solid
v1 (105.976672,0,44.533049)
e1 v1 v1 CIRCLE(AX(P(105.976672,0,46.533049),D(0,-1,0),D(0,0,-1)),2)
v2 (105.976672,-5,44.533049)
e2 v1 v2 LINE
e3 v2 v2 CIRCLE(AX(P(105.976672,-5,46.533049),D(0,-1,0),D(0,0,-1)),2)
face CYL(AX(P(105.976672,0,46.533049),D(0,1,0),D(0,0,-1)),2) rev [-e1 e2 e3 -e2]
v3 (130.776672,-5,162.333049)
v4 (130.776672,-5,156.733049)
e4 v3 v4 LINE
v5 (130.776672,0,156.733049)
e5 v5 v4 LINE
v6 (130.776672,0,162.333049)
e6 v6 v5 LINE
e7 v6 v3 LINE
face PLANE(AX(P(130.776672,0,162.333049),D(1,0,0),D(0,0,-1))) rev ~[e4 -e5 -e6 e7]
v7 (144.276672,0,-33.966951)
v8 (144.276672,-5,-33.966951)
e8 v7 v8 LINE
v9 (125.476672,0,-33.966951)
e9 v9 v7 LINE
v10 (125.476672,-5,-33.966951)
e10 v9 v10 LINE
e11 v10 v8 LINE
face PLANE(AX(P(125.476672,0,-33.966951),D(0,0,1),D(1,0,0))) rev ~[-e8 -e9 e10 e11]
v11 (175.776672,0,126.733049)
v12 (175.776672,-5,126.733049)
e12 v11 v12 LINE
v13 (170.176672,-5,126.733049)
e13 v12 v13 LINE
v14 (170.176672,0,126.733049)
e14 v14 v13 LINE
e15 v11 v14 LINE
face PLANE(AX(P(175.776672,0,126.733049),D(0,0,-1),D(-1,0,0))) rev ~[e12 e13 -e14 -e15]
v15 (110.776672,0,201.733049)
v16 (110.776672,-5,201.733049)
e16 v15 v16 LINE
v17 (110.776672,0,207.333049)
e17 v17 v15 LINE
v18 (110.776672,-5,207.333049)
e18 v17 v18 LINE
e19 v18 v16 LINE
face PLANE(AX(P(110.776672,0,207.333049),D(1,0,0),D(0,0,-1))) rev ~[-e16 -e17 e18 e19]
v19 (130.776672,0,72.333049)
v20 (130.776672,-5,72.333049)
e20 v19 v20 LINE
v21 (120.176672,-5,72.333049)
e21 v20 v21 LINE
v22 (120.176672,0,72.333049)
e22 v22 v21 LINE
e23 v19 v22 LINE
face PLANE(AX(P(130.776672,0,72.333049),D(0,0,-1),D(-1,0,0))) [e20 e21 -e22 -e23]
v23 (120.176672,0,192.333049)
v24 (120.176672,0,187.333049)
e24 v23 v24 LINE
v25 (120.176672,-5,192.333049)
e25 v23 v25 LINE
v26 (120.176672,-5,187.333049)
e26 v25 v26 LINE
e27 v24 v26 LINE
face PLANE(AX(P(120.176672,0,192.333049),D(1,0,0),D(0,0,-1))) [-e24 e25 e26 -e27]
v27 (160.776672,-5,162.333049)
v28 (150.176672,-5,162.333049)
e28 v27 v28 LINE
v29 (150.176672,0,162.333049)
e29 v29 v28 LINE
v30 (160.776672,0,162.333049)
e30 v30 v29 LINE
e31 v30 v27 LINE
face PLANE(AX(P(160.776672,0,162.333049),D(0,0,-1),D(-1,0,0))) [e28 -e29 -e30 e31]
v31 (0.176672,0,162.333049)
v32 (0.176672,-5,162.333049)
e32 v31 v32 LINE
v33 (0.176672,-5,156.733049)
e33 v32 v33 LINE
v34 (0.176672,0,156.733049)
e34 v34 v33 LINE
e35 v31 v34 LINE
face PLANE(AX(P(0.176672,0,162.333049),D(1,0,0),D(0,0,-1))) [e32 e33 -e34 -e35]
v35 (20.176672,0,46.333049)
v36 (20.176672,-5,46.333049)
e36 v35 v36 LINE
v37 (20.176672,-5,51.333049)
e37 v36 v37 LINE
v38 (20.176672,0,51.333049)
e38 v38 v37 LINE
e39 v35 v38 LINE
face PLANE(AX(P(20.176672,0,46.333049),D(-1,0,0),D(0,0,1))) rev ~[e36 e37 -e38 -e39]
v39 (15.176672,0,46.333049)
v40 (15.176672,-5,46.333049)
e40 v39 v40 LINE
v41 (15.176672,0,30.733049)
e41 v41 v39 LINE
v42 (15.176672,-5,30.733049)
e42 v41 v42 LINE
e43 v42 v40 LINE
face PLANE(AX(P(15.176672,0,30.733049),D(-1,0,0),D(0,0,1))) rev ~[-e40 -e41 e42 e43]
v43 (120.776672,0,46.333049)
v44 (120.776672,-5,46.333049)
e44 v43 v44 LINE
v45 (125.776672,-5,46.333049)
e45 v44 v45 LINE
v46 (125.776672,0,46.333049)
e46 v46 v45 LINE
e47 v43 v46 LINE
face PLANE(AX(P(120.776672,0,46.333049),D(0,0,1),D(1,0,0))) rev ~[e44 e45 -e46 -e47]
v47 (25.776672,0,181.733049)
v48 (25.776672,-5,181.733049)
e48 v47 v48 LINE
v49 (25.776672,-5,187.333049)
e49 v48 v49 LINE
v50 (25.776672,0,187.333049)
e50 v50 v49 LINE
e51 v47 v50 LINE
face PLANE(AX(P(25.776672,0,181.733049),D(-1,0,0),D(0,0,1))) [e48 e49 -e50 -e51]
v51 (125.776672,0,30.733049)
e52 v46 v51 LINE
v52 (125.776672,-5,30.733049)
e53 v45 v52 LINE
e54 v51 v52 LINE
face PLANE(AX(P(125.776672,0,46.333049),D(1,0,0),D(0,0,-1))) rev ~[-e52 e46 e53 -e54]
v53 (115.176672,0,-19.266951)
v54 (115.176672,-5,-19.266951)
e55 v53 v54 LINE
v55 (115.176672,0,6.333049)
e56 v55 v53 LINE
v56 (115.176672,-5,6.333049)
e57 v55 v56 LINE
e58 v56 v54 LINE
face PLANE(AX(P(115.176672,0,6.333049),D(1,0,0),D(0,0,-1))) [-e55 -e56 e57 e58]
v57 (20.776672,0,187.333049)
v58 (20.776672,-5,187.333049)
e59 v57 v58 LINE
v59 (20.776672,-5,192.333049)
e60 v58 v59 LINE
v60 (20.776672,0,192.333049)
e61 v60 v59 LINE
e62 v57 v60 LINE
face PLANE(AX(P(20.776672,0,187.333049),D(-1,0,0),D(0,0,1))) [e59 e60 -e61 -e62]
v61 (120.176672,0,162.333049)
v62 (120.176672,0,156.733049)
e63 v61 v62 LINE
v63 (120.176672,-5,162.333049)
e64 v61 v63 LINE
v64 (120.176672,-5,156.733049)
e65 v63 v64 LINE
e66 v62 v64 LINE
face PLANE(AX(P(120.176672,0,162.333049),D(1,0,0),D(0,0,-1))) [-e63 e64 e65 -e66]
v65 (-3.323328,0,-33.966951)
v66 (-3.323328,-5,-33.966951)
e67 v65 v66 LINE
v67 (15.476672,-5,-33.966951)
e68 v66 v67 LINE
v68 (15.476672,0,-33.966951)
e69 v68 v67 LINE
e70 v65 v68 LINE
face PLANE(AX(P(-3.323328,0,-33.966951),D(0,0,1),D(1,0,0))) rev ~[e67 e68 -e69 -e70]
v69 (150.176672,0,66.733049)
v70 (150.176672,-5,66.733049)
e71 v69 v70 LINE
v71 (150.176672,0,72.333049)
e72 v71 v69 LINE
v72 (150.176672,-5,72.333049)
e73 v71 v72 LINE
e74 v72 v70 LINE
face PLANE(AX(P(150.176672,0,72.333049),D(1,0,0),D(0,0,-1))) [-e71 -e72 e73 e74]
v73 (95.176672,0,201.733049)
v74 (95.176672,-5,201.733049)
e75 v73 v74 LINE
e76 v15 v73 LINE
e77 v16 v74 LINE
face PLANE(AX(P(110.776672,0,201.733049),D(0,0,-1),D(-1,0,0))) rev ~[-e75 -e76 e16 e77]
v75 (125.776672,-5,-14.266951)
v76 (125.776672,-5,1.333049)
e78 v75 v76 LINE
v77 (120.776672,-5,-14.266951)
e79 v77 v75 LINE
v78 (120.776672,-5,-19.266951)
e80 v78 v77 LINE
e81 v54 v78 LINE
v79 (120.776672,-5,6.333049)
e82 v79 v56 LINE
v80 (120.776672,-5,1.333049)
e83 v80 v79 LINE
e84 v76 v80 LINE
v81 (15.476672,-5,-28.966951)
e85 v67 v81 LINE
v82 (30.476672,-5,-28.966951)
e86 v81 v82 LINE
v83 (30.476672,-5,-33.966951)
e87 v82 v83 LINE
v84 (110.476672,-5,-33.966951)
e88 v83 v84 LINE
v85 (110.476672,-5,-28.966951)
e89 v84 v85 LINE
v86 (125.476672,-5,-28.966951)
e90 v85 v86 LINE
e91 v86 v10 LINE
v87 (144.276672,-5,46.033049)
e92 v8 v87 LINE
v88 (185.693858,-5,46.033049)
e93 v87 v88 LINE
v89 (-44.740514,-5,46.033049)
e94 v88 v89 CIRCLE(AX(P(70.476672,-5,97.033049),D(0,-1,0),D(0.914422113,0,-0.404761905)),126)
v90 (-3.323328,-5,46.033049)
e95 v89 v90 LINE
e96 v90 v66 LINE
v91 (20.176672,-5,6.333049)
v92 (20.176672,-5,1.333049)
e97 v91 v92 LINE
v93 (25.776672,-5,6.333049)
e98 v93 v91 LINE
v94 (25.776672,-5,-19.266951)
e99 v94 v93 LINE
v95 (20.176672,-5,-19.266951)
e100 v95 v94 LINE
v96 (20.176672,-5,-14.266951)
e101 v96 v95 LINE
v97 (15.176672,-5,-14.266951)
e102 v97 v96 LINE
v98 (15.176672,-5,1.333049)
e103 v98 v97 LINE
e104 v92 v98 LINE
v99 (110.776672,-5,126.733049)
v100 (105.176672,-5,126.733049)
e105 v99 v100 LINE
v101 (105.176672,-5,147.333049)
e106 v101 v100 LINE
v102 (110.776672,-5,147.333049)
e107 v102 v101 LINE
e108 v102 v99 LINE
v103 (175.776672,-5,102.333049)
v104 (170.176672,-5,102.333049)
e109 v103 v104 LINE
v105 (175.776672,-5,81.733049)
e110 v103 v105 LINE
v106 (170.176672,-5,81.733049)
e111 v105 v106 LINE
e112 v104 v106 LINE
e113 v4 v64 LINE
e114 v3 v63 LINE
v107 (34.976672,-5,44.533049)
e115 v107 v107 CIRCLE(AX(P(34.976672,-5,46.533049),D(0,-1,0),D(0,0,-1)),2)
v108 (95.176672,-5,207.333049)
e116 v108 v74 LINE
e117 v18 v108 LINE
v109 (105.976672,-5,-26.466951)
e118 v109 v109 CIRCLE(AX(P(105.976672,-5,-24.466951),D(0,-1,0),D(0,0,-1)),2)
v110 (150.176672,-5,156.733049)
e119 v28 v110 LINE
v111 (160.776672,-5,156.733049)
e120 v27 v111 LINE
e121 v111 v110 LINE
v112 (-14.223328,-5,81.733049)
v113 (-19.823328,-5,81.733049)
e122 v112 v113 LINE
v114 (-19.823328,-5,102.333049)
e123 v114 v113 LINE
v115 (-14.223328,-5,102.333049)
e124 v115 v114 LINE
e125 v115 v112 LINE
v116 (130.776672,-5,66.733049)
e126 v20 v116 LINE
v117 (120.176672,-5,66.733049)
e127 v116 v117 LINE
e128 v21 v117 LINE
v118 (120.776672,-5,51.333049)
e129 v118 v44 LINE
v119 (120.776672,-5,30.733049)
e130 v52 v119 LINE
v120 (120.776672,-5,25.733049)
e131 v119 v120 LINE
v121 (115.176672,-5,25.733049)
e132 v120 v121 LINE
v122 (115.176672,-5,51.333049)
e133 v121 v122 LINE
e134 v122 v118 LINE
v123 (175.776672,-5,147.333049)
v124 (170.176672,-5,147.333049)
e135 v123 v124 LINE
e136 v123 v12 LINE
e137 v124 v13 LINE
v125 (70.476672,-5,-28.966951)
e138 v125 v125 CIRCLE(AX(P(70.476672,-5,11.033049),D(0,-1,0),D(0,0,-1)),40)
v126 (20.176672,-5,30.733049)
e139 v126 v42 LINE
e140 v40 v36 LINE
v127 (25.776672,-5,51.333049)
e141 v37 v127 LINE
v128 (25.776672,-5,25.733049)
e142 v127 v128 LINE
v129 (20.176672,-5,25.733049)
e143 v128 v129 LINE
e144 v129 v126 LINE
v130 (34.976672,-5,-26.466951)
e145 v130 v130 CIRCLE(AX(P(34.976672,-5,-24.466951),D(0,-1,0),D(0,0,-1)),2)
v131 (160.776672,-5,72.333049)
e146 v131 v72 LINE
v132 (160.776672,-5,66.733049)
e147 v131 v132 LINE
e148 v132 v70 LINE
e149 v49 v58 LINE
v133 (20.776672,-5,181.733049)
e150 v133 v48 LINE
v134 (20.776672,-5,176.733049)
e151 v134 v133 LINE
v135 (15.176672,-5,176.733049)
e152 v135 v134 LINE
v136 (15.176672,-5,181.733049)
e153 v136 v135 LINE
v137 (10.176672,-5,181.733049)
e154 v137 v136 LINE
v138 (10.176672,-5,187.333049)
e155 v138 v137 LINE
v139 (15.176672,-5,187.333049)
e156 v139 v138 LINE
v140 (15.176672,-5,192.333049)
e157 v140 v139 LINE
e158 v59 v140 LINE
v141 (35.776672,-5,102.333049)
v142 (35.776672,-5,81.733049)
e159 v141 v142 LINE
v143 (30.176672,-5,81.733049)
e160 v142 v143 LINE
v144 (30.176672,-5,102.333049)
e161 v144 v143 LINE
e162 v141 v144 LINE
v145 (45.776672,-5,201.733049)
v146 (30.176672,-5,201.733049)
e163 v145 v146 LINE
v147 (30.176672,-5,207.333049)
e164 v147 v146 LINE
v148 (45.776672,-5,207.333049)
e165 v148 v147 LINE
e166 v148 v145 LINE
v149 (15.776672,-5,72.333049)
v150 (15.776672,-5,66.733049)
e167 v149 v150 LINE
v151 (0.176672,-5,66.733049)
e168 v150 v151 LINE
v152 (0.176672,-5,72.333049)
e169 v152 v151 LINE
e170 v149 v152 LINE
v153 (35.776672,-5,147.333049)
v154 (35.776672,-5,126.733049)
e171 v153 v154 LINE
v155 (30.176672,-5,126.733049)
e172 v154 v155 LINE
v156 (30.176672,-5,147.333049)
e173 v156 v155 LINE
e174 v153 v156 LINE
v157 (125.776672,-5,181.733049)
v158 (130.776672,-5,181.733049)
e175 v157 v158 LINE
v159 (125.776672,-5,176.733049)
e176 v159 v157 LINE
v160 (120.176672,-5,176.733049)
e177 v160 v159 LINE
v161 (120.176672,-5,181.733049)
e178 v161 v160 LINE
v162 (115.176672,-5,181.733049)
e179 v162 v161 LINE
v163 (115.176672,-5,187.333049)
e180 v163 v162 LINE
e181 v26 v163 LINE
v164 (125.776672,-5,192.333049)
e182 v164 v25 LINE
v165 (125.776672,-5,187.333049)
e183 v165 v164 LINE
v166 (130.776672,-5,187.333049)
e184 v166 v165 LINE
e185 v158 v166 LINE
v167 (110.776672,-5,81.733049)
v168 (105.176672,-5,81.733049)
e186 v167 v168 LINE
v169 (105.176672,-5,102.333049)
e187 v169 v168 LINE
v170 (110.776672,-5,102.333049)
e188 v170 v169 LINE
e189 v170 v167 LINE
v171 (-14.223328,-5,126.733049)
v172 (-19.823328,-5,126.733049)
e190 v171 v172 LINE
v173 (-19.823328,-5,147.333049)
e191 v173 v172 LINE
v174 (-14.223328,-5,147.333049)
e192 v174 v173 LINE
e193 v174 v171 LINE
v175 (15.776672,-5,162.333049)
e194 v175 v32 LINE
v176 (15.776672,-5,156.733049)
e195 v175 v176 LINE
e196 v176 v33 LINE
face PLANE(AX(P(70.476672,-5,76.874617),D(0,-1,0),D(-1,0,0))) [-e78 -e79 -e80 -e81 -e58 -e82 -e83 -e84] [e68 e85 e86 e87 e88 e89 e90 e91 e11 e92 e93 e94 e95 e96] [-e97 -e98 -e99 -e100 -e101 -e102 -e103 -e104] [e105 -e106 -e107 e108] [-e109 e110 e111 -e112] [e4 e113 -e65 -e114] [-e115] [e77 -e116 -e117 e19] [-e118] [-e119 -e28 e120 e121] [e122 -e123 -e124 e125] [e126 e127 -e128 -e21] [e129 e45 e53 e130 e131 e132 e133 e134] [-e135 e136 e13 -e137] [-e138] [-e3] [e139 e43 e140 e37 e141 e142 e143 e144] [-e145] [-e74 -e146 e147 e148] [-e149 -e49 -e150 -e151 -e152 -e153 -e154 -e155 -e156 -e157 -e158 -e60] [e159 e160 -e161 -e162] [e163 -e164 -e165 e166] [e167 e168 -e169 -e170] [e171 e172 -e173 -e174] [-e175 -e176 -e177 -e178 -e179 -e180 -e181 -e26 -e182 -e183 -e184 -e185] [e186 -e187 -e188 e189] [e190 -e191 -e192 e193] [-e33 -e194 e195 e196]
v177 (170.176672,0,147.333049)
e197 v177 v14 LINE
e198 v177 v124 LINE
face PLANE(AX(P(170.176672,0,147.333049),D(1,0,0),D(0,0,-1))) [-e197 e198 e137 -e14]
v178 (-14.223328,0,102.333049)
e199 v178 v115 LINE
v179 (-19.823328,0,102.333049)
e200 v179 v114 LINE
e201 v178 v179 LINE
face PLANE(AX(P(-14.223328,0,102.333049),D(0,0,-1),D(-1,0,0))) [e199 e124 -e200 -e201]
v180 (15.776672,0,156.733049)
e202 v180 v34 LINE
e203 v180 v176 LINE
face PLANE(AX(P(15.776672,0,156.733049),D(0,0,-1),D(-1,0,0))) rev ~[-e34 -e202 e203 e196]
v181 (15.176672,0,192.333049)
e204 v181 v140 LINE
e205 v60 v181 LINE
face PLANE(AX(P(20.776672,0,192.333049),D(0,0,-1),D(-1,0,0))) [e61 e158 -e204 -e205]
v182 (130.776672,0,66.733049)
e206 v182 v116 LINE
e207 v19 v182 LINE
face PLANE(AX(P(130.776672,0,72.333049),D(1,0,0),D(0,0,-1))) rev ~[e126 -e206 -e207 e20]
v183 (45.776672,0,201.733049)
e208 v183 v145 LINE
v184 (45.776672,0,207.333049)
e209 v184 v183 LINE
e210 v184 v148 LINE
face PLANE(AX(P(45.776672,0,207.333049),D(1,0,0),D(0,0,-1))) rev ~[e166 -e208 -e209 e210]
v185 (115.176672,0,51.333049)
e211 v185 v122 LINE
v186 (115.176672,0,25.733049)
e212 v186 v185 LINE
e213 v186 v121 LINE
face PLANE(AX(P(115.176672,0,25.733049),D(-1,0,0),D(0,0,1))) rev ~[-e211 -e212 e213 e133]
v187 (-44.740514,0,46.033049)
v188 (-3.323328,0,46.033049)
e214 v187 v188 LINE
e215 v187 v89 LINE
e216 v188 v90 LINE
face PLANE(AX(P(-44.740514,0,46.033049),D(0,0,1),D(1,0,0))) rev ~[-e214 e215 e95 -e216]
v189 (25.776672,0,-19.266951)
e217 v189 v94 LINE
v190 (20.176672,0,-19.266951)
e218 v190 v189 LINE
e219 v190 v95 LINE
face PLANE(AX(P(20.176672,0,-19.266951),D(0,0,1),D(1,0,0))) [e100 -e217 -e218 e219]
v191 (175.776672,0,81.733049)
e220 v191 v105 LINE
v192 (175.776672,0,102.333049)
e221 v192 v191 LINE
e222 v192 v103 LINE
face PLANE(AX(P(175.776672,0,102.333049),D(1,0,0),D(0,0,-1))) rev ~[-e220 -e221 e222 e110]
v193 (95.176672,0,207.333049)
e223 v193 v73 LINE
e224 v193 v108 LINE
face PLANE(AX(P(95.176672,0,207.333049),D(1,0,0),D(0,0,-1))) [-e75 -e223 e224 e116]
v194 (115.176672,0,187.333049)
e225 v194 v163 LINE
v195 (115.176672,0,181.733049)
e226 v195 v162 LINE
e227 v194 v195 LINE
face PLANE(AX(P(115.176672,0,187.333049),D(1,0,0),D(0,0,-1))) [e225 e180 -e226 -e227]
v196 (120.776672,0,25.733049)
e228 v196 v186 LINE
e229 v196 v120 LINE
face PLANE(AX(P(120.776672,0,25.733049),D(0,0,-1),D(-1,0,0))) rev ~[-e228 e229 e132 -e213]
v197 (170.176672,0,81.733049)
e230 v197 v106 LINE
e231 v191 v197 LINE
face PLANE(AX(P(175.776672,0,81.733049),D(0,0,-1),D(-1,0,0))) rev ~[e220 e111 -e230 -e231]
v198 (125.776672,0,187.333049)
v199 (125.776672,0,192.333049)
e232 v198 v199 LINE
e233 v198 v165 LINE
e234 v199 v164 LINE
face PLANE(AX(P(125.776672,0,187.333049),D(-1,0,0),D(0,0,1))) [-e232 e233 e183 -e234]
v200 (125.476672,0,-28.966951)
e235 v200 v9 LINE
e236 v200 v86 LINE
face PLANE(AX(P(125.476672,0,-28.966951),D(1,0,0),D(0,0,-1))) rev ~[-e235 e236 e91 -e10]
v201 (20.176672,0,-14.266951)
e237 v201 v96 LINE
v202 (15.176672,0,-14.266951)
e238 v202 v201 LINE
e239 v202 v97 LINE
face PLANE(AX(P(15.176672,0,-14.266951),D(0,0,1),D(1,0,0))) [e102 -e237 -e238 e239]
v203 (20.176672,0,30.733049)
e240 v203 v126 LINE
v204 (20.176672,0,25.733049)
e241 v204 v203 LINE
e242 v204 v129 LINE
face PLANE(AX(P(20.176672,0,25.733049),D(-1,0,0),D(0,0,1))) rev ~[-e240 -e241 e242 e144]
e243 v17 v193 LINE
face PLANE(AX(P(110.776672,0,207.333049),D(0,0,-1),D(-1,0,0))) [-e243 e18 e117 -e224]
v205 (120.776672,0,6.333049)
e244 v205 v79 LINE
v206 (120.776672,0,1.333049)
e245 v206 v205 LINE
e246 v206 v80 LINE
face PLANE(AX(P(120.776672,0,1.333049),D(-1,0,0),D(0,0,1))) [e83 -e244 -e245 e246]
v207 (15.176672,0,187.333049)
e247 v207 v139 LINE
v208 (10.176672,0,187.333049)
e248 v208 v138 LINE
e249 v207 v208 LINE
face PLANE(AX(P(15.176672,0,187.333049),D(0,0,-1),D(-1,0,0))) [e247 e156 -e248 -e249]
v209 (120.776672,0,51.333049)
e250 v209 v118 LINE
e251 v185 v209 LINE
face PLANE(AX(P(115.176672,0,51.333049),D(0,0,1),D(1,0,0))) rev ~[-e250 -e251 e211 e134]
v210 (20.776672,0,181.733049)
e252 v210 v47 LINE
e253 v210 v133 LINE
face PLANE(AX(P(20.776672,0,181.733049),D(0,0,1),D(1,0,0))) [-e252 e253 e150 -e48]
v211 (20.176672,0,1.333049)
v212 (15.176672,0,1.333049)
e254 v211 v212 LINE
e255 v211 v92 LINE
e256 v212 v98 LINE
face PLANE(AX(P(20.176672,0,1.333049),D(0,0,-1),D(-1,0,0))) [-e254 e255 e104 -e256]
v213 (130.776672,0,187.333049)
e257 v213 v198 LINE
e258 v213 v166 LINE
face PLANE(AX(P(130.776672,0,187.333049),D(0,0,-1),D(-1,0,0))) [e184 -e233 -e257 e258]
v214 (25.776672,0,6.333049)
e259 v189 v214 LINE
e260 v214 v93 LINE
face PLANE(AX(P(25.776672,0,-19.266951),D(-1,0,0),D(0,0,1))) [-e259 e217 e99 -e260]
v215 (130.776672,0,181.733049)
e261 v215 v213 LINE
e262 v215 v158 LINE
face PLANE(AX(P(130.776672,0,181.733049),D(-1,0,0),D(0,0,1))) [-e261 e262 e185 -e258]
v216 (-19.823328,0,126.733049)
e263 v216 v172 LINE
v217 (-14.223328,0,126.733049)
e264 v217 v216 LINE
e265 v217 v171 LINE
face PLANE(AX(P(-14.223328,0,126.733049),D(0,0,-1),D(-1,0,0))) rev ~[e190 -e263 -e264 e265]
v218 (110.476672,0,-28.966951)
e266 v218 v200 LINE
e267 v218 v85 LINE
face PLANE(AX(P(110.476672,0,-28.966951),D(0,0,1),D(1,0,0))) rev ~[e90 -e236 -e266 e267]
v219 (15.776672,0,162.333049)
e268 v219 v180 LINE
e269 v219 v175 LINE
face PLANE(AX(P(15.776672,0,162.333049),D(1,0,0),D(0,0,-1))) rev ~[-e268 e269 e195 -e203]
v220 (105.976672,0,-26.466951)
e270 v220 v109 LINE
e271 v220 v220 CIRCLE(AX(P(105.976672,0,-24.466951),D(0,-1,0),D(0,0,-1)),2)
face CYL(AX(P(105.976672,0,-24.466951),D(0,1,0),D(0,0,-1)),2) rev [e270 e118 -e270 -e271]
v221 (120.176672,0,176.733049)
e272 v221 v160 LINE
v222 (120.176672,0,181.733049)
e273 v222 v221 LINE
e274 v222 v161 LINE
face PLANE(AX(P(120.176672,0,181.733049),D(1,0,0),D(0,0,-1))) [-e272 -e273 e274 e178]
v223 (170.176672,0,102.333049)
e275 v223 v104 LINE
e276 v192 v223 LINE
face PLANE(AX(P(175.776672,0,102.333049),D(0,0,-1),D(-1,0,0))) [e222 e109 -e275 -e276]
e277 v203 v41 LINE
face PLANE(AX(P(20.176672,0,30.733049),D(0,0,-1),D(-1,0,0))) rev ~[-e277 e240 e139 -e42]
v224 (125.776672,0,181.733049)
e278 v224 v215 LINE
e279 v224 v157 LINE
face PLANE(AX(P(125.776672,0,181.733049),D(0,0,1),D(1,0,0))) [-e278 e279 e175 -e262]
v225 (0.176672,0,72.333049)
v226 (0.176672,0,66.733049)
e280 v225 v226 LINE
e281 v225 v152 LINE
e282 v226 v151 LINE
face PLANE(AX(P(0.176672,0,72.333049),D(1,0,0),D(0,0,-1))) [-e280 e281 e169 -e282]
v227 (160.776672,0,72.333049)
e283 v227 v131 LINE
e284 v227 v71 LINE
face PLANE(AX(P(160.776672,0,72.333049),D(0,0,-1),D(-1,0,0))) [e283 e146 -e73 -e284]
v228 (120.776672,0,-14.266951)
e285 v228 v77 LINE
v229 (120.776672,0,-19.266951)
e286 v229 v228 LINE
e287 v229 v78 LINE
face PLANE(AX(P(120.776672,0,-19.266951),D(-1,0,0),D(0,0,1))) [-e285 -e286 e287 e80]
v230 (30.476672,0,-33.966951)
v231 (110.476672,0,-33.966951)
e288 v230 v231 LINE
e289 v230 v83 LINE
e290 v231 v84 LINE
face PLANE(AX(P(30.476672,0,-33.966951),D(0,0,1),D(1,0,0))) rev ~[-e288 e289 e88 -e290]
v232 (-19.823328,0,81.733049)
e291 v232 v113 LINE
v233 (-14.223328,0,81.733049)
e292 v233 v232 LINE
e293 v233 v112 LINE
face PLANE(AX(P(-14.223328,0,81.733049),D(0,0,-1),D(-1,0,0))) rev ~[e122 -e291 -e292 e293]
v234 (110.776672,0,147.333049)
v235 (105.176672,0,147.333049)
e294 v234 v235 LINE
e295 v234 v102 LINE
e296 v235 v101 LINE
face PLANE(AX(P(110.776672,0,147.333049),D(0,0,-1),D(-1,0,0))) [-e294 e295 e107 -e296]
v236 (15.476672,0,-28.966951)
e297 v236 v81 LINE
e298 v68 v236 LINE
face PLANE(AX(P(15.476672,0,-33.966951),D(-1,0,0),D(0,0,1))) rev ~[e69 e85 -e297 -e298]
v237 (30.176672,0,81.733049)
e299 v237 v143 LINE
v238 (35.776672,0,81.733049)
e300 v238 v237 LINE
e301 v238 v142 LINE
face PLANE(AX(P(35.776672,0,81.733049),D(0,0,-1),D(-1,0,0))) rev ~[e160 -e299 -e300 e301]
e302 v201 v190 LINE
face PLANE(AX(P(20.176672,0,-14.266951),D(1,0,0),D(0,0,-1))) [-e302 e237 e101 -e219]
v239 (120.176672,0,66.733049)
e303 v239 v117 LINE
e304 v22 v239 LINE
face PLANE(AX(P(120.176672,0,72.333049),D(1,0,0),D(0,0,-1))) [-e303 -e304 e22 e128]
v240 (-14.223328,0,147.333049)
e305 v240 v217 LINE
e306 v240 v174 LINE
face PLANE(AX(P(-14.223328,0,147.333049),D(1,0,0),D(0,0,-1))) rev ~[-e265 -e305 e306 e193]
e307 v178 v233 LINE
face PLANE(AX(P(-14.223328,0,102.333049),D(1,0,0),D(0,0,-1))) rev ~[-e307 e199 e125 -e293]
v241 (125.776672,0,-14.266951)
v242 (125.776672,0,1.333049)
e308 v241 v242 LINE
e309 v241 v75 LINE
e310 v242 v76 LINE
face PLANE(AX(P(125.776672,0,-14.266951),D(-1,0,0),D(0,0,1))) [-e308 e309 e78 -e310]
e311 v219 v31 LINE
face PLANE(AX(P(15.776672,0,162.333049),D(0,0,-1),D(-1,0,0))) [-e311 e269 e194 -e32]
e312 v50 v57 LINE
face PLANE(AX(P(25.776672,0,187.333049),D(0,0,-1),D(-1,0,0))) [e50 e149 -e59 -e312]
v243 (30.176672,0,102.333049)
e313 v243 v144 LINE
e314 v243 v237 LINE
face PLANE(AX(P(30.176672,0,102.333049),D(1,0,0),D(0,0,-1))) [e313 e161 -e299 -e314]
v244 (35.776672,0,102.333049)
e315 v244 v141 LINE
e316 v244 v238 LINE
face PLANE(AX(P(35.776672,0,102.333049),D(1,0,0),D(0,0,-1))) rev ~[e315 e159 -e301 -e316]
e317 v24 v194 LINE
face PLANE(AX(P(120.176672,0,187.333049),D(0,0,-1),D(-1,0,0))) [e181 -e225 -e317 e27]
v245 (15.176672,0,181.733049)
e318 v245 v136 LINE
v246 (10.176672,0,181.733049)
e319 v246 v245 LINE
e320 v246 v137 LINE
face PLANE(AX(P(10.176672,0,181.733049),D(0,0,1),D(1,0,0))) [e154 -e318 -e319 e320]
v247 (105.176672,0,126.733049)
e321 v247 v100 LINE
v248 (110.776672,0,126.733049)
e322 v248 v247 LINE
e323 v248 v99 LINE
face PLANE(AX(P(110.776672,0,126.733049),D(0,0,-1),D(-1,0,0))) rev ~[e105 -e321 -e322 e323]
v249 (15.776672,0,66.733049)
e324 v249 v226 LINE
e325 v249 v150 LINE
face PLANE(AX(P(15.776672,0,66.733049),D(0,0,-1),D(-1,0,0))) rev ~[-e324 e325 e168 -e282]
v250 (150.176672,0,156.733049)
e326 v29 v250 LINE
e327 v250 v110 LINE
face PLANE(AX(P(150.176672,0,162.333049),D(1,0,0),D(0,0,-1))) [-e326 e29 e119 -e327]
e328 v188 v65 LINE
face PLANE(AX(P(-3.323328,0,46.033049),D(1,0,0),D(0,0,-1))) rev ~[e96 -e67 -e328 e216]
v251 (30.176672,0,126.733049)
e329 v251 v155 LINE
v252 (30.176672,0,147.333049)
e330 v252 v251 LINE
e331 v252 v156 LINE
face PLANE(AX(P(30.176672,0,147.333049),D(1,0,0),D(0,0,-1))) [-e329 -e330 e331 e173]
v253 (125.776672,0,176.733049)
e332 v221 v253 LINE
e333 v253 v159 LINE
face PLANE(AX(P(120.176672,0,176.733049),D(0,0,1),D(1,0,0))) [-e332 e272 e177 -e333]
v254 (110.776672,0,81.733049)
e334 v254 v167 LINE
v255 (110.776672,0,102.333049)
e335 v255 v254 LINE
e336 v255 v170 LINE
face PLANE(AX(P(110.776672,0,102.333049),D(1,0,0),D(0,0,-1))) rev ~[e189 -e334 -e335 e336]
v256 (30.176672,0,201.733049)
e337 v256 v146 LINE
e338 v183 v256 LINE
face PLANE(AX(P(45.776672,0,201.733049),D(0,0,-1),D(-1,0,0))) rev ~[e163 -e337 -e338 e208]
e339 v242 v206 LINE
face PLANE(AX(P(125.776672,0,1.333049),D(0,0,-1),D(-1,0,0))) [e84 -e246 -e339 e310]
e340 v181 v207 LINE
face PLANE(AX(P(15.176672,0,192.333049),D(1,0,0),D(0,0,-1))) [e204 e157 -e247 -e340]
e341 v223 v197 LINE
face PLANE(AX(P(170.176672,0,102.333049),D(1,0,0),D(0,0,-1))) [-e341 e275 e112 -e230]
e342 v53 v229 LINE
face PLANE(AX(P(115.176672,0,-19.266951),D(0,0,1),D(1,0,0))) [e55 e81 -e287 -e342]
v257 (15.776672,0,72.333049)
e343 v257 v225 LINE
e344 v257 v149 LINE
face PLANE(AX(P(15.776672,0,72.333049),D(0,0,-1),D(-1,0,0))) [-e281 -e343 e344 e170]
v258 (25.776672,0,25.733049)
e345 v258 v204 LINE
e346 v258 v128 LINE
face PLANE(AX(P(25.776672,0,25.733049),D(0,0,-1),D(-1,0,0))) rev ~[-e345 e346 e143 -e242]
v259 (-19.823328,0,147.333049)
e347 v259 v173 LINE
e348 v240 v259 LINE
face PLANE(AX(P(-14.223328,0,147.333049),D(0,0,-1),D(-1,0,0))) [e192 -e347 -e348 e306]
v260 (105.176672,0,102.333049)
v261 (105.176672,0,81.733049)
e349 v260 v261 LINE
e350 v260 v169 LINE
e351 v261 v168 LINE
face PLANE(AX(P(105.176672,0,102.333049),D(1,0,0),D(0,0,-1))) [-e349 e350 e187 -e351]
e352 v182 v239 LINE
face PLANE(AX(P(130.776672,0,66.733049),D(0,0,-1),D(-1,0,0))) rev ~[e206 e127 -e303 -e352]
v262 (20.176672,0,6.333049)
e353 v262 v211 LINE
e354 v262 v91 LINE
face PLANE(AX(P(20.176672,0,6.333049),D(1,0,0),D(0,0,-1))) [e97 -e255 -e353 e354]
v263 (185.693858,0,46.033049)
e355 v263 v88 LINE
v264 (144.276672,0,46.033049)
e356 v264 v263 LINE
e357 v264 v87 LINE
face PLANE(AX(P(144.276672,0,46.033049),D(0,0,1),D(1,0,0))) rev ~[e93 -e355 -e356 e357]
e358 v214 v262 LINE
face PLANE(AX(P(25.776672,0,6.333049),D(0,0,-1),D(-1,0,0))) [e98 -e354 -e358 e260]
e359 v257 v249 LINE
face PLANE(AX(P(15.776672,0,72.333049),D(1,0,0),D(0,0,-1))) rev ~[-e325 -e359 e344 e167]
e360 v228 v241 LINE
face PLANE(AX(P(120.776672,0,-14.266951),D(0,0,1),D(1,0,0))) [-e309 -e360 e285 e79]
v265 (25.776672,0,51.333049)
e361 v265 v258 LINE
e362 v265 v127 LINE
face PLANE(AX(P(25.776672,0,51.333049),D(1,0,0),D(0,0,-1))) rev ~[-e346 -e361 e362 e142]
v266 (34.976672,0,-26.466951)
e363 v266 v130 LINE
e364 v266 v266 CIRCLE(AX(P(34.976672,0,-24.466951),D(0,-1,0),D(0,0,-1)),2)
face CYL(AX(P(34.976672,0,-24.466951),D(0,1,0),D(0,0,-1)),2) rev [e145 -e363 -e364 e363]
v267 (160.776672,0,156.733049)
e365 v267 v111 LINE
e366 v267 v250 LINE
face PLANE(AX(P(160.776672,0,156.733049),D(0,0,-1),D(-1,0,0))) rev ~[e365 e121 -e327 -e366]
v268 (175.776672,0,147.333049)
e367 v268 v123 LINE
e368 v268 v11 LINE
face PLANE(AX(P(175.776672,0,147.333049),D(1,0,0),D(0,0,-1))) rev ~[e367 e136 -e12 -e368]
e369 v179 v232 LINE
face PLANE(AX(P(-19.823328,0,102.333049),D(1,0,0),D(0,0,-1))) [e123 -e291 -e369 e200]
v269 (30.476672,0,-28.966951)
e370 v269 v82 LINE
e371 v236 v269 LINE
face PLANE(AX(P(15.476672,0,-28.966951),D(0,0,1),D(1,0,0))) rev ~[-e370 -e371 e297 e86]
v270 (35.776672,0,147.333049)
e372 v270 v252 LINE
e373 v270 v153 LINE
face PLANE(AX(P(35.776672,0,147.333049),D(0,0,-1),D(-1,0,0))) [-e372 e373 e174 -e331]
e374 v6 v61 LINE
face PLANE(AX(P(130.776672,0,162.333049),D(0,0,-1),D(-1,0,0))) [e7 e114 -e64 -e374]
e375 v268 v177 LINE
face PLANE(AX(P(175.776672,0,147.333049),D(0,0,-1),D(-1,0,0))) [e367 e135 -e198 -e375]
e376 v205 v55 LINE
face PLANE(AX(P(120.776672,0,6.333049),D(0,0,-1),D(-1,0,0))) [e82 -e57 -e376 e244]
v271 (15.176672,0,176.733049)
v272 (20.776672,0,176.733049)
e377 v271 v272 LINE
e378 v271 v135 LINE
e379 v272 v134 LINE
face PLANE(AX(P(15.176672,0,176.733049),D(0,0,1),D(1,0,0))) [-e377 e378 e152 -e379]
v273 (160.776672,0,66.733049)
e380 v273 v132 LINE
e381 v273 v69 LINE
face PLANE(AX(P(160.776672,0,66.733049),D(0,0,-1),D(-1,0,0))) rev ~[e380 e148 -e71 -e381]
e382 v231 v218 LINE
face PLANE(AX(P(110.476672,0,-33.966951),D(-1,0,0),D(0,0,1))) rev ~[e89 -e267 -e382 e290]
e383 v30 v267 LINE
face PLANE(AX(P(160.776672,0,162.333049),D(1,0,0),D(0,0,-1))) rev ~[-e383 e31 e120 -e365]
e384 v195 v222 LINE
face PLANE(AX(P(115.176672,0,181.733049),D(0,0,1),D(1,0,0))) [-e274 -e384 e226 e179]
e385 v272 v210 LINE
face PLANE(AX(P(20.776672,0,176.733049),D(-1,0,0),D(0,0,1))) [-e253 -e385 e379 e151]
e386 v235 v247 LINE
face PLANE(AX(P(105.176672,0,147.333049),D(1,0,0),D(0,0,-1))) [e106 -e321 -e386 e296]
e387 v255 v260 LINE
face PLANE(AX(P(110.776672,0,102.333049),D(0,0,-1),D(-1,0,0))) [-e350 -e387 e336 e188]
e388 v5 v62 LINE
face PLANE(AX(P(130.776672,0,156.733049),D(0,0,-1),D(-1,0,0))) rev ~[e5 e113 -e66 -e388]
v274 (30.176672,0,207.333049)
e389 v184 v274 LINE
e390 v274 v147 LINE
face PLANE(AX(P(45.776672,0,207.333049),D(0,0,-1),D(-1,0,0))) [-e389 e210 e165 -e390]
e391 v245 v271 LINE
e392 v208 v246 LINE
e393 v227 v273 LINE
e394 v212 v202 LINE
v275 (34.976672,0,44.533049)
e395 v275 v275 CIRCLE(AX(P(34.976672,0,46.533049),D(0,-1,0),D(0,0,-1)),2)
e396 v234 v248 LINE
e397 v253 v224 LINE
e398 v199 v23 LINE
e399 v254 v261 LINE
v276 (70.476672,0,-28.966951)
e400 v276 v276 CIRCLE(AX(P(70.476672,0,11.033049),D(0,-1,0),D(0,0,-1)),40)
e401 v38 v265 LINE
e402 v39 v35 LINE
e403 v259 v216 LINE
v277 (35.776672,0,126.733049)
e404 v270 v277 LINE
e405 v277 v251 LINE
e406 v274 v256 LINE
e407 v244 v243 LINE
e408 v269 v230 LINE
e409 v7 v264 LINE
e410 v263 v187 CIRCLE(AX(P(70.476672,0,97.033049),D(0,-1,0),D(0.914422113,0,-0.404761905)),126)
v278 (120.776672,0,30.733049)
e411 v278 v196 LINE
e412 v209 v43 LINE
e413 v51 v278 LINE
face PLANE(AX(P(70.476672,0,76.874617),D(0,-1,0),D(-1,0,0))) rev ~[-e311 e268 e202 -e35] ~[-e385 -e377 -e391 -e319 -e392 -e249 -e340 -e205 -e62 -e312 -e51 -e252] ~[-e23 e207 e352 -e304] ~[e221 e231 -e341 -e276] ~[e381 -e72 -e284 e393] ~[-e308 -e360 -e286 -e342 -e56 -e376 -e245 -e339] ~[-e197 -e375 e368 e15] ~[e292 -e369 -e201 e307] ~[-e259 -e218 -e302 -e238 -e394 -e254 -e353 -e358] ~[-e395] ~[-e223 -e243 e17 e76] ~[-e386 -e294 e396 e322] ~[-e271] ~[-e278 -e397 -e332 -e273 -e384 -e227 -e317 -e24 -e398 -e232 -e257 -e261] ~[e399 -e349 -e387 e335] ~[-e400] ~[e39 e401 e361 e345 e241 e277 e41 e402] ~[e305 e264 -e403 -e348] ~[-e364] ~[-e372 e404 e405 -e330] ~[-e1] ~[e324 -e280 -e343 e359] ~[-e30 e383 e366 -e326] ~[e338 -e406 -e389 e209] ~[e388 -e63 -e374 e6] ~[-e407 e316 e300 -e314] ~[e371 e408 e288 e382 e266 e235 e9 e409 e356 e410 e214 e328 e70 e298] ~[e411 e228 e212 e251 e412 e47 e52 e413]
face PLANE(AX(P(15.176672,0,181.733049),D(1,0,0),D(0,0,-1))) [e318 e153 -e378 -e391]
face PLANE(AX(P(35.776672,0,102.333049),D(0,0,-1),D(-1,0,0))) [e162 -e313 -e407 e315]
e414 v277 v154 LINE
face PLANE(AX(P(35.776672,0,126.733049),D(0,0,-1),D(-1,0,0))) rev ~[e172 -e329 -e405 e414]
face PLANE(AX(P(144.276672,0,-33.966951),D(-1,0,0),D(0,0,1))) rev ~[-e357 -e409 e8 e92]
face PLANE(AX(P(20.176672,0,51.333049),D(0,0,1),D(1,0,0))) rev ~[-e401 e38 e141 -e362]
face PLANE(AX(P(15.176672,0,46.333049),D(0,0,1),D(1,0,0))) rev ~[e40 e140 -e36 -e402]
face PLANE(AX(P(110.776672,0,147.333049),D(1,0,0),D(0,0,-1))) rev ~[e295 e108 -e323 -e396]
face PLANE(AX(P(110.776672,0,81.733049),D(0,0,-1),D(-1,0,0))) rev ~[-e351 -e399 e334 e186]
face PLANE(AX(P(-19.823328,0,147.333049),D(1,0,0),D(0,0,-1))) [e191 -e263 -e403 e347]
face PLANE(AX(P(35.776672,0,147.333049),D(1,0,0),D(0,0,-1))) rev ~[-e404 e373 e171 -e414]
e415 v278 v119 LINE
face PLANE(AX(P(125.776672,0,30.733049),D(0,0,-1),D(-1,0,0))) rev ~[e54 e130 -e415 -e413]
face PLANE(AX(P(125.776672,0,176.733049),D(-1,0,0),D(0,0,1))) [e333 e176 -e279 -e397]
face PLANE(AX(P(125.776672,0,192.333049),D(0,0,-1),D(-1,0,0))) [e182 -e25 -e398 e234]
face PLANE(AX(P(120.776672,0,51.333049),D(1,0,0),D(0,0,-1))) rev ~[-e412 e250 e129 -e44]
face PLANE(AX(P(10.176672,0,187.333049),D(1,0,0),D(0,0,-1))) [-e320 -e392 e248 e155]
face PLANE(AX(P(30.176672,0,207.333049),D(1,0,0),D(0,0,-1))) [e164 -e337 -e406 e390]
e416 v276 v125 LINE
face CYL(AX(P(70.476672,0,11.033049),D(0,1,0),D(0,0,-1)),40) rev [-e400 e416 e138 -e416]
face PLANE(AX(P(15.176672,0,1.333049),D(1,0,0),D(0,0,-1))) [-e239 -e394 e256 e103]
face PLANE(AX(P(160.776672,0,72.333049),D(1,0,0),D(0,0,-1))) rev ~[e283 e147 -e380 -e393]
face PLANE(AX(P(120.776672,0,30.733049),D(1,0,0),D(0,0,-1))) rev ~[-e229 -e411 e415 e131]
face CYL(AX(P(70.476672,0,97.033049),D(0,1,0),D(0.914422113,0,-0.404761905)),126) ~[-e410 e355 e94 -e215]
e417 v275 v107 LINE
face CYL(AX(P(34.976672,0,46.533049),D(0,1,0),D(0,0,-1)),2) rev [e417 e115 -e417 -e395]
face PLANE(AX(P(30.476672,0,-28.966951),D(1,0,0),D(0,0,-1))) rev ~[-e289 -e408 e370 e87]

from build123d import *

# Parameters (mm, degrees)
SKETCH1_R           = 40
SKETCH1_R_2         = 2
SKETCH1_W           = 15.6
SKETCH1_H           = 5.6
SKETCH1_W_2         = 5.6
SKETCH1_H_2         = 20.6
SKETCH1_W_3         = 10.6
BOSS_EXTRUDE1_DEPTH = 5


with BuildPart() as part:
    # Sketch1 → Boss-Extrude1 (new body)
    with BuildSketch(Plane(origin=(0, 0, 0), x_dir=(-1, 0, 0), z_dir=(0, -1, 0))):
        with BuildLine():
            Line((-144.276672243, 28.966950724), (-144.276672243, -46.033049276))
            Line((-144.276672243, -46.033049276), (-185.693858461, -46.033049276))
            ThreePointArc((-185.693858461, -46.033049276), (-70.476672243, -223.033049276), (44.740513975, -46.033049276))
            Line((44.740513975, -46.033049276), (3.323327757, -46.033049276))
            Line((3.323327757, -46.033049276), (3.323327757, 28.966950724))
            Line((3.323327757, 28.966950724), (3.323327757, 33.966950724))
            Line((3.323327757, 33.966950724), (-15.476672243, 33.966950724))
            Line((-15.476672243, 33.966950724), (-15.476672243, 28.966950724))
            Line((-15.476672243, 28.966950724), (-30.476672243, 28.966950724))
            Line((-30.476672243, 28.966950724), (-30.476672243, 33.966950724))
            Line((-30.476672243, 33.966950724), (-110.476672243, 33.966950724))
            Line((-110.476672243, 33.966950724), (-110.476672243, 28.966950724))
            Line((-110.476672243, 28.966950724), (-125.476672243, 28.966950724))
            Line((-125.476672243, 28.966950724), (-125.476672243, 33.966950724))
            Line((-125.476672243, 33.966950724), (-144.276672243, 33.966950724))
            Line((-144.276672243, 33.966950724), (-144.276672243, 28.966950724))
        make_face()
        with Locations(Location((-70.476672243, -11.033049276, 0), (0, 0, 90))):
            Circle(SKETCH1_R, mode=Mode.SUBTRACT)
        with Locations(Location((-34.976672243, 24.466950724, 0), (0, 0, 90))):
            Circle(SKETCH1_R_2, mode=Mode.SUBTRACT)
        with Locations(Location((-105.976672243, 24.466950724, 0), (0, 0, 90))):
            Circle(SKETCH1_R_2, mode=Mode.SUBTRACT)
        with Locations(Location((-105.976672243, -46.533049276, 0), (0, 0, 90))):
            Circle(SKETCH1_R_2, mode=Mode.SUBTRACT)
        with Locations(Location((-34.976672243, -46.533049276, 0), (0, 0, 90))):
            Circle(SKETCH1_R_2, mode=Mode.SUBTRACT)
        Polygon((-20.176672243, -6.333049276), (-20.176672243, -1.333049276), (-15.176672243, -1.333049276), (-15.176672243, 14.266950724), (-20.176672243, 14.266950724), (-20.176672243, 19.266950724), (-25.776672243, 19.266950724), (-25.776672243, -6.333049276), align=None, mode=Mode.SUBTRACT)
        Polygon((-20.176672243, -25.733049276), (-20.176672243, -30.733049276), (-15.176672243, -30.733049276), (-15.176672243, -46.333049276), (-20.176672243, -46.333049276), (-20.176672243, -51.333049276), (-25.776672243, -51.333049276), (-25.776672243, -25.733049276), align=None, mode=Mode.SUBTRACT)
        Polygon((-120.776672243, -6.333049276), (-115.176672243, -6.333049276), (-115.176672243, 19.266950724), (-120.776672243, 19.266950724), (-120.776672243, 14.266950724), (-125.776672243, 14.266950724), (-125.776672243, -1.333049276), (-120.776672243, -1.333049276), align=None, mode=Mode.SUBTRACT)
        Polygon((-120.776672243, -25.733049276), (-115.176672243, -25.733049276), (-115.176672243, -51.333049276), (-120.776672243, -51.333049276), (-120.776672243, -46.333049276), (-125.776672243, -46.333049276), (-125.776672243, -30.733049276), (-120.776672243, -30.733049276), align=None, mode=Mode.SUBTRACT)
        with Locations((-7.976672243, -69.533049276)):
            Rectangle(SKETCH1_W, SKETCH1_H, mode=Mode.SUBTRACT)
        with Locations((17.023327757, -92.033049276)):
            Rectangle(SKETCH1_W_2, SKETCH1_H_2, mode=Mode.SUBTRACT)
        with Locations((17.023327757, -137.033049276)):
            Rectangle(SKETCH1_W_2, SKETCH1_H_2, mode=Mode.SUBTRACT)
        with Locations((-7.976672243, -159.533049276)):
            Rectangle(SKETCH1_W, SKETCH1_H, mode=Mode.SUBTRACT)
        with Locations((-32.976672243, -137.033049276)):
            Rectangle(SKETCH1_W_2, SKETCH1_H_2, mode=Mode.SUBTRACT)
        with Locations((-32.976672243, -92.033049276)):
            Rectangle(SKETCH1_W_2, SKETCH1_H_2, mode=Mode.SUBTRACT)
        with Locations((-37.976672243, -204.533049276)):
            Rectangle(SKETCH1_W, SKETCH1_H, mode=Mode.SUBTRACT)
        Polygon((-20.776672243, -176.733049276), (-20.776672243, -181.733049276), (-25.776672243, -181.733049276), (-25.776672243, -187.333049276), (-20.776672243, -187.333049276), (-20.776672243, -192.333049276), (-15.176672243, -192.333049276), (-15.176672243, -187.333049276), (-10.176672243, -187.333049276), (-10.176672243, -181.733049276), (-15.176672243, -181.733049276), (-15.176672243, -176.733049276), align=None, mode=Mode.SUBTRACT)
        with Locations((-102.976672243, -204.533049276)):
            Rectangle(SKETCH1_W, SKETCH1_H, mode=Mode.SUBTRACT)
        Polygon((-120.176672243, -176.733049276), (-125.776672243, -176.733049276), (-125.776672243, -181.733049276), (-130.776672243, -181.733049276), (-130.776672243, -187.333049276), (-125.776672243, -187.333049276), (-125.776672243, -192.333049276), (-120.176672243, -192.333049276), (-120.176672243, -187.333049276), (-115.176672243, -187.333049276), (-115.176672243, -181.733049276), (-120.176672243, -181.733049276), align=None, mode=Mode.SUBTRACT)
        with Locations((-125.476672243, -159.533049276)):
            Rectangle(SKETCH1_W_3, SKETCH1_H, mode=Mode.SUBTRACT)
        with Locations((-155.476672243, -159.533049276)):
            Rectangle(SKETCH1_W_3, SKETCH1_H, mode=Mode.SUBTRACT)
        with Locations((-107.976672243, -137.033049276)):
            Rectangle(SKETCH1_W_2, SKETCH1_H_2, mode=Mode.SUBTRACT)
        with Locations((-172.976672243, -137.033049276)):
            Rectangle(SKETCH1_W_2, SKETCH1_H_2, mode=Mode.SUBTRACT)
        with Locations((-172.976672243, -92.033049276)):
            Rectangle(SKETCH1_W_2, SKETCH1_H_2, mode=Mode.SUBTRACT)
        with Locations((-107.976672243, -92.033049276)):
            Rectangle(SKETCH1_W_2, SKETCH1_H_2, mode=Mode.SUBTRACT)
        with Locations((-125.476672243, -69.533049276)):
            Rectangle(SKETCH1_W_3, SKETCH1_H, mode=Mode.SUBTRACT)
        with Locations((-155.476672243, -69.533049276)):
            Rectangle(SKETCH1_W_3, SKETCH1_H, mode=Mode.SUBTRACT)
    extrude(amount=BOSS_EXTRUDE1_DEPTH)


solid = part.part
